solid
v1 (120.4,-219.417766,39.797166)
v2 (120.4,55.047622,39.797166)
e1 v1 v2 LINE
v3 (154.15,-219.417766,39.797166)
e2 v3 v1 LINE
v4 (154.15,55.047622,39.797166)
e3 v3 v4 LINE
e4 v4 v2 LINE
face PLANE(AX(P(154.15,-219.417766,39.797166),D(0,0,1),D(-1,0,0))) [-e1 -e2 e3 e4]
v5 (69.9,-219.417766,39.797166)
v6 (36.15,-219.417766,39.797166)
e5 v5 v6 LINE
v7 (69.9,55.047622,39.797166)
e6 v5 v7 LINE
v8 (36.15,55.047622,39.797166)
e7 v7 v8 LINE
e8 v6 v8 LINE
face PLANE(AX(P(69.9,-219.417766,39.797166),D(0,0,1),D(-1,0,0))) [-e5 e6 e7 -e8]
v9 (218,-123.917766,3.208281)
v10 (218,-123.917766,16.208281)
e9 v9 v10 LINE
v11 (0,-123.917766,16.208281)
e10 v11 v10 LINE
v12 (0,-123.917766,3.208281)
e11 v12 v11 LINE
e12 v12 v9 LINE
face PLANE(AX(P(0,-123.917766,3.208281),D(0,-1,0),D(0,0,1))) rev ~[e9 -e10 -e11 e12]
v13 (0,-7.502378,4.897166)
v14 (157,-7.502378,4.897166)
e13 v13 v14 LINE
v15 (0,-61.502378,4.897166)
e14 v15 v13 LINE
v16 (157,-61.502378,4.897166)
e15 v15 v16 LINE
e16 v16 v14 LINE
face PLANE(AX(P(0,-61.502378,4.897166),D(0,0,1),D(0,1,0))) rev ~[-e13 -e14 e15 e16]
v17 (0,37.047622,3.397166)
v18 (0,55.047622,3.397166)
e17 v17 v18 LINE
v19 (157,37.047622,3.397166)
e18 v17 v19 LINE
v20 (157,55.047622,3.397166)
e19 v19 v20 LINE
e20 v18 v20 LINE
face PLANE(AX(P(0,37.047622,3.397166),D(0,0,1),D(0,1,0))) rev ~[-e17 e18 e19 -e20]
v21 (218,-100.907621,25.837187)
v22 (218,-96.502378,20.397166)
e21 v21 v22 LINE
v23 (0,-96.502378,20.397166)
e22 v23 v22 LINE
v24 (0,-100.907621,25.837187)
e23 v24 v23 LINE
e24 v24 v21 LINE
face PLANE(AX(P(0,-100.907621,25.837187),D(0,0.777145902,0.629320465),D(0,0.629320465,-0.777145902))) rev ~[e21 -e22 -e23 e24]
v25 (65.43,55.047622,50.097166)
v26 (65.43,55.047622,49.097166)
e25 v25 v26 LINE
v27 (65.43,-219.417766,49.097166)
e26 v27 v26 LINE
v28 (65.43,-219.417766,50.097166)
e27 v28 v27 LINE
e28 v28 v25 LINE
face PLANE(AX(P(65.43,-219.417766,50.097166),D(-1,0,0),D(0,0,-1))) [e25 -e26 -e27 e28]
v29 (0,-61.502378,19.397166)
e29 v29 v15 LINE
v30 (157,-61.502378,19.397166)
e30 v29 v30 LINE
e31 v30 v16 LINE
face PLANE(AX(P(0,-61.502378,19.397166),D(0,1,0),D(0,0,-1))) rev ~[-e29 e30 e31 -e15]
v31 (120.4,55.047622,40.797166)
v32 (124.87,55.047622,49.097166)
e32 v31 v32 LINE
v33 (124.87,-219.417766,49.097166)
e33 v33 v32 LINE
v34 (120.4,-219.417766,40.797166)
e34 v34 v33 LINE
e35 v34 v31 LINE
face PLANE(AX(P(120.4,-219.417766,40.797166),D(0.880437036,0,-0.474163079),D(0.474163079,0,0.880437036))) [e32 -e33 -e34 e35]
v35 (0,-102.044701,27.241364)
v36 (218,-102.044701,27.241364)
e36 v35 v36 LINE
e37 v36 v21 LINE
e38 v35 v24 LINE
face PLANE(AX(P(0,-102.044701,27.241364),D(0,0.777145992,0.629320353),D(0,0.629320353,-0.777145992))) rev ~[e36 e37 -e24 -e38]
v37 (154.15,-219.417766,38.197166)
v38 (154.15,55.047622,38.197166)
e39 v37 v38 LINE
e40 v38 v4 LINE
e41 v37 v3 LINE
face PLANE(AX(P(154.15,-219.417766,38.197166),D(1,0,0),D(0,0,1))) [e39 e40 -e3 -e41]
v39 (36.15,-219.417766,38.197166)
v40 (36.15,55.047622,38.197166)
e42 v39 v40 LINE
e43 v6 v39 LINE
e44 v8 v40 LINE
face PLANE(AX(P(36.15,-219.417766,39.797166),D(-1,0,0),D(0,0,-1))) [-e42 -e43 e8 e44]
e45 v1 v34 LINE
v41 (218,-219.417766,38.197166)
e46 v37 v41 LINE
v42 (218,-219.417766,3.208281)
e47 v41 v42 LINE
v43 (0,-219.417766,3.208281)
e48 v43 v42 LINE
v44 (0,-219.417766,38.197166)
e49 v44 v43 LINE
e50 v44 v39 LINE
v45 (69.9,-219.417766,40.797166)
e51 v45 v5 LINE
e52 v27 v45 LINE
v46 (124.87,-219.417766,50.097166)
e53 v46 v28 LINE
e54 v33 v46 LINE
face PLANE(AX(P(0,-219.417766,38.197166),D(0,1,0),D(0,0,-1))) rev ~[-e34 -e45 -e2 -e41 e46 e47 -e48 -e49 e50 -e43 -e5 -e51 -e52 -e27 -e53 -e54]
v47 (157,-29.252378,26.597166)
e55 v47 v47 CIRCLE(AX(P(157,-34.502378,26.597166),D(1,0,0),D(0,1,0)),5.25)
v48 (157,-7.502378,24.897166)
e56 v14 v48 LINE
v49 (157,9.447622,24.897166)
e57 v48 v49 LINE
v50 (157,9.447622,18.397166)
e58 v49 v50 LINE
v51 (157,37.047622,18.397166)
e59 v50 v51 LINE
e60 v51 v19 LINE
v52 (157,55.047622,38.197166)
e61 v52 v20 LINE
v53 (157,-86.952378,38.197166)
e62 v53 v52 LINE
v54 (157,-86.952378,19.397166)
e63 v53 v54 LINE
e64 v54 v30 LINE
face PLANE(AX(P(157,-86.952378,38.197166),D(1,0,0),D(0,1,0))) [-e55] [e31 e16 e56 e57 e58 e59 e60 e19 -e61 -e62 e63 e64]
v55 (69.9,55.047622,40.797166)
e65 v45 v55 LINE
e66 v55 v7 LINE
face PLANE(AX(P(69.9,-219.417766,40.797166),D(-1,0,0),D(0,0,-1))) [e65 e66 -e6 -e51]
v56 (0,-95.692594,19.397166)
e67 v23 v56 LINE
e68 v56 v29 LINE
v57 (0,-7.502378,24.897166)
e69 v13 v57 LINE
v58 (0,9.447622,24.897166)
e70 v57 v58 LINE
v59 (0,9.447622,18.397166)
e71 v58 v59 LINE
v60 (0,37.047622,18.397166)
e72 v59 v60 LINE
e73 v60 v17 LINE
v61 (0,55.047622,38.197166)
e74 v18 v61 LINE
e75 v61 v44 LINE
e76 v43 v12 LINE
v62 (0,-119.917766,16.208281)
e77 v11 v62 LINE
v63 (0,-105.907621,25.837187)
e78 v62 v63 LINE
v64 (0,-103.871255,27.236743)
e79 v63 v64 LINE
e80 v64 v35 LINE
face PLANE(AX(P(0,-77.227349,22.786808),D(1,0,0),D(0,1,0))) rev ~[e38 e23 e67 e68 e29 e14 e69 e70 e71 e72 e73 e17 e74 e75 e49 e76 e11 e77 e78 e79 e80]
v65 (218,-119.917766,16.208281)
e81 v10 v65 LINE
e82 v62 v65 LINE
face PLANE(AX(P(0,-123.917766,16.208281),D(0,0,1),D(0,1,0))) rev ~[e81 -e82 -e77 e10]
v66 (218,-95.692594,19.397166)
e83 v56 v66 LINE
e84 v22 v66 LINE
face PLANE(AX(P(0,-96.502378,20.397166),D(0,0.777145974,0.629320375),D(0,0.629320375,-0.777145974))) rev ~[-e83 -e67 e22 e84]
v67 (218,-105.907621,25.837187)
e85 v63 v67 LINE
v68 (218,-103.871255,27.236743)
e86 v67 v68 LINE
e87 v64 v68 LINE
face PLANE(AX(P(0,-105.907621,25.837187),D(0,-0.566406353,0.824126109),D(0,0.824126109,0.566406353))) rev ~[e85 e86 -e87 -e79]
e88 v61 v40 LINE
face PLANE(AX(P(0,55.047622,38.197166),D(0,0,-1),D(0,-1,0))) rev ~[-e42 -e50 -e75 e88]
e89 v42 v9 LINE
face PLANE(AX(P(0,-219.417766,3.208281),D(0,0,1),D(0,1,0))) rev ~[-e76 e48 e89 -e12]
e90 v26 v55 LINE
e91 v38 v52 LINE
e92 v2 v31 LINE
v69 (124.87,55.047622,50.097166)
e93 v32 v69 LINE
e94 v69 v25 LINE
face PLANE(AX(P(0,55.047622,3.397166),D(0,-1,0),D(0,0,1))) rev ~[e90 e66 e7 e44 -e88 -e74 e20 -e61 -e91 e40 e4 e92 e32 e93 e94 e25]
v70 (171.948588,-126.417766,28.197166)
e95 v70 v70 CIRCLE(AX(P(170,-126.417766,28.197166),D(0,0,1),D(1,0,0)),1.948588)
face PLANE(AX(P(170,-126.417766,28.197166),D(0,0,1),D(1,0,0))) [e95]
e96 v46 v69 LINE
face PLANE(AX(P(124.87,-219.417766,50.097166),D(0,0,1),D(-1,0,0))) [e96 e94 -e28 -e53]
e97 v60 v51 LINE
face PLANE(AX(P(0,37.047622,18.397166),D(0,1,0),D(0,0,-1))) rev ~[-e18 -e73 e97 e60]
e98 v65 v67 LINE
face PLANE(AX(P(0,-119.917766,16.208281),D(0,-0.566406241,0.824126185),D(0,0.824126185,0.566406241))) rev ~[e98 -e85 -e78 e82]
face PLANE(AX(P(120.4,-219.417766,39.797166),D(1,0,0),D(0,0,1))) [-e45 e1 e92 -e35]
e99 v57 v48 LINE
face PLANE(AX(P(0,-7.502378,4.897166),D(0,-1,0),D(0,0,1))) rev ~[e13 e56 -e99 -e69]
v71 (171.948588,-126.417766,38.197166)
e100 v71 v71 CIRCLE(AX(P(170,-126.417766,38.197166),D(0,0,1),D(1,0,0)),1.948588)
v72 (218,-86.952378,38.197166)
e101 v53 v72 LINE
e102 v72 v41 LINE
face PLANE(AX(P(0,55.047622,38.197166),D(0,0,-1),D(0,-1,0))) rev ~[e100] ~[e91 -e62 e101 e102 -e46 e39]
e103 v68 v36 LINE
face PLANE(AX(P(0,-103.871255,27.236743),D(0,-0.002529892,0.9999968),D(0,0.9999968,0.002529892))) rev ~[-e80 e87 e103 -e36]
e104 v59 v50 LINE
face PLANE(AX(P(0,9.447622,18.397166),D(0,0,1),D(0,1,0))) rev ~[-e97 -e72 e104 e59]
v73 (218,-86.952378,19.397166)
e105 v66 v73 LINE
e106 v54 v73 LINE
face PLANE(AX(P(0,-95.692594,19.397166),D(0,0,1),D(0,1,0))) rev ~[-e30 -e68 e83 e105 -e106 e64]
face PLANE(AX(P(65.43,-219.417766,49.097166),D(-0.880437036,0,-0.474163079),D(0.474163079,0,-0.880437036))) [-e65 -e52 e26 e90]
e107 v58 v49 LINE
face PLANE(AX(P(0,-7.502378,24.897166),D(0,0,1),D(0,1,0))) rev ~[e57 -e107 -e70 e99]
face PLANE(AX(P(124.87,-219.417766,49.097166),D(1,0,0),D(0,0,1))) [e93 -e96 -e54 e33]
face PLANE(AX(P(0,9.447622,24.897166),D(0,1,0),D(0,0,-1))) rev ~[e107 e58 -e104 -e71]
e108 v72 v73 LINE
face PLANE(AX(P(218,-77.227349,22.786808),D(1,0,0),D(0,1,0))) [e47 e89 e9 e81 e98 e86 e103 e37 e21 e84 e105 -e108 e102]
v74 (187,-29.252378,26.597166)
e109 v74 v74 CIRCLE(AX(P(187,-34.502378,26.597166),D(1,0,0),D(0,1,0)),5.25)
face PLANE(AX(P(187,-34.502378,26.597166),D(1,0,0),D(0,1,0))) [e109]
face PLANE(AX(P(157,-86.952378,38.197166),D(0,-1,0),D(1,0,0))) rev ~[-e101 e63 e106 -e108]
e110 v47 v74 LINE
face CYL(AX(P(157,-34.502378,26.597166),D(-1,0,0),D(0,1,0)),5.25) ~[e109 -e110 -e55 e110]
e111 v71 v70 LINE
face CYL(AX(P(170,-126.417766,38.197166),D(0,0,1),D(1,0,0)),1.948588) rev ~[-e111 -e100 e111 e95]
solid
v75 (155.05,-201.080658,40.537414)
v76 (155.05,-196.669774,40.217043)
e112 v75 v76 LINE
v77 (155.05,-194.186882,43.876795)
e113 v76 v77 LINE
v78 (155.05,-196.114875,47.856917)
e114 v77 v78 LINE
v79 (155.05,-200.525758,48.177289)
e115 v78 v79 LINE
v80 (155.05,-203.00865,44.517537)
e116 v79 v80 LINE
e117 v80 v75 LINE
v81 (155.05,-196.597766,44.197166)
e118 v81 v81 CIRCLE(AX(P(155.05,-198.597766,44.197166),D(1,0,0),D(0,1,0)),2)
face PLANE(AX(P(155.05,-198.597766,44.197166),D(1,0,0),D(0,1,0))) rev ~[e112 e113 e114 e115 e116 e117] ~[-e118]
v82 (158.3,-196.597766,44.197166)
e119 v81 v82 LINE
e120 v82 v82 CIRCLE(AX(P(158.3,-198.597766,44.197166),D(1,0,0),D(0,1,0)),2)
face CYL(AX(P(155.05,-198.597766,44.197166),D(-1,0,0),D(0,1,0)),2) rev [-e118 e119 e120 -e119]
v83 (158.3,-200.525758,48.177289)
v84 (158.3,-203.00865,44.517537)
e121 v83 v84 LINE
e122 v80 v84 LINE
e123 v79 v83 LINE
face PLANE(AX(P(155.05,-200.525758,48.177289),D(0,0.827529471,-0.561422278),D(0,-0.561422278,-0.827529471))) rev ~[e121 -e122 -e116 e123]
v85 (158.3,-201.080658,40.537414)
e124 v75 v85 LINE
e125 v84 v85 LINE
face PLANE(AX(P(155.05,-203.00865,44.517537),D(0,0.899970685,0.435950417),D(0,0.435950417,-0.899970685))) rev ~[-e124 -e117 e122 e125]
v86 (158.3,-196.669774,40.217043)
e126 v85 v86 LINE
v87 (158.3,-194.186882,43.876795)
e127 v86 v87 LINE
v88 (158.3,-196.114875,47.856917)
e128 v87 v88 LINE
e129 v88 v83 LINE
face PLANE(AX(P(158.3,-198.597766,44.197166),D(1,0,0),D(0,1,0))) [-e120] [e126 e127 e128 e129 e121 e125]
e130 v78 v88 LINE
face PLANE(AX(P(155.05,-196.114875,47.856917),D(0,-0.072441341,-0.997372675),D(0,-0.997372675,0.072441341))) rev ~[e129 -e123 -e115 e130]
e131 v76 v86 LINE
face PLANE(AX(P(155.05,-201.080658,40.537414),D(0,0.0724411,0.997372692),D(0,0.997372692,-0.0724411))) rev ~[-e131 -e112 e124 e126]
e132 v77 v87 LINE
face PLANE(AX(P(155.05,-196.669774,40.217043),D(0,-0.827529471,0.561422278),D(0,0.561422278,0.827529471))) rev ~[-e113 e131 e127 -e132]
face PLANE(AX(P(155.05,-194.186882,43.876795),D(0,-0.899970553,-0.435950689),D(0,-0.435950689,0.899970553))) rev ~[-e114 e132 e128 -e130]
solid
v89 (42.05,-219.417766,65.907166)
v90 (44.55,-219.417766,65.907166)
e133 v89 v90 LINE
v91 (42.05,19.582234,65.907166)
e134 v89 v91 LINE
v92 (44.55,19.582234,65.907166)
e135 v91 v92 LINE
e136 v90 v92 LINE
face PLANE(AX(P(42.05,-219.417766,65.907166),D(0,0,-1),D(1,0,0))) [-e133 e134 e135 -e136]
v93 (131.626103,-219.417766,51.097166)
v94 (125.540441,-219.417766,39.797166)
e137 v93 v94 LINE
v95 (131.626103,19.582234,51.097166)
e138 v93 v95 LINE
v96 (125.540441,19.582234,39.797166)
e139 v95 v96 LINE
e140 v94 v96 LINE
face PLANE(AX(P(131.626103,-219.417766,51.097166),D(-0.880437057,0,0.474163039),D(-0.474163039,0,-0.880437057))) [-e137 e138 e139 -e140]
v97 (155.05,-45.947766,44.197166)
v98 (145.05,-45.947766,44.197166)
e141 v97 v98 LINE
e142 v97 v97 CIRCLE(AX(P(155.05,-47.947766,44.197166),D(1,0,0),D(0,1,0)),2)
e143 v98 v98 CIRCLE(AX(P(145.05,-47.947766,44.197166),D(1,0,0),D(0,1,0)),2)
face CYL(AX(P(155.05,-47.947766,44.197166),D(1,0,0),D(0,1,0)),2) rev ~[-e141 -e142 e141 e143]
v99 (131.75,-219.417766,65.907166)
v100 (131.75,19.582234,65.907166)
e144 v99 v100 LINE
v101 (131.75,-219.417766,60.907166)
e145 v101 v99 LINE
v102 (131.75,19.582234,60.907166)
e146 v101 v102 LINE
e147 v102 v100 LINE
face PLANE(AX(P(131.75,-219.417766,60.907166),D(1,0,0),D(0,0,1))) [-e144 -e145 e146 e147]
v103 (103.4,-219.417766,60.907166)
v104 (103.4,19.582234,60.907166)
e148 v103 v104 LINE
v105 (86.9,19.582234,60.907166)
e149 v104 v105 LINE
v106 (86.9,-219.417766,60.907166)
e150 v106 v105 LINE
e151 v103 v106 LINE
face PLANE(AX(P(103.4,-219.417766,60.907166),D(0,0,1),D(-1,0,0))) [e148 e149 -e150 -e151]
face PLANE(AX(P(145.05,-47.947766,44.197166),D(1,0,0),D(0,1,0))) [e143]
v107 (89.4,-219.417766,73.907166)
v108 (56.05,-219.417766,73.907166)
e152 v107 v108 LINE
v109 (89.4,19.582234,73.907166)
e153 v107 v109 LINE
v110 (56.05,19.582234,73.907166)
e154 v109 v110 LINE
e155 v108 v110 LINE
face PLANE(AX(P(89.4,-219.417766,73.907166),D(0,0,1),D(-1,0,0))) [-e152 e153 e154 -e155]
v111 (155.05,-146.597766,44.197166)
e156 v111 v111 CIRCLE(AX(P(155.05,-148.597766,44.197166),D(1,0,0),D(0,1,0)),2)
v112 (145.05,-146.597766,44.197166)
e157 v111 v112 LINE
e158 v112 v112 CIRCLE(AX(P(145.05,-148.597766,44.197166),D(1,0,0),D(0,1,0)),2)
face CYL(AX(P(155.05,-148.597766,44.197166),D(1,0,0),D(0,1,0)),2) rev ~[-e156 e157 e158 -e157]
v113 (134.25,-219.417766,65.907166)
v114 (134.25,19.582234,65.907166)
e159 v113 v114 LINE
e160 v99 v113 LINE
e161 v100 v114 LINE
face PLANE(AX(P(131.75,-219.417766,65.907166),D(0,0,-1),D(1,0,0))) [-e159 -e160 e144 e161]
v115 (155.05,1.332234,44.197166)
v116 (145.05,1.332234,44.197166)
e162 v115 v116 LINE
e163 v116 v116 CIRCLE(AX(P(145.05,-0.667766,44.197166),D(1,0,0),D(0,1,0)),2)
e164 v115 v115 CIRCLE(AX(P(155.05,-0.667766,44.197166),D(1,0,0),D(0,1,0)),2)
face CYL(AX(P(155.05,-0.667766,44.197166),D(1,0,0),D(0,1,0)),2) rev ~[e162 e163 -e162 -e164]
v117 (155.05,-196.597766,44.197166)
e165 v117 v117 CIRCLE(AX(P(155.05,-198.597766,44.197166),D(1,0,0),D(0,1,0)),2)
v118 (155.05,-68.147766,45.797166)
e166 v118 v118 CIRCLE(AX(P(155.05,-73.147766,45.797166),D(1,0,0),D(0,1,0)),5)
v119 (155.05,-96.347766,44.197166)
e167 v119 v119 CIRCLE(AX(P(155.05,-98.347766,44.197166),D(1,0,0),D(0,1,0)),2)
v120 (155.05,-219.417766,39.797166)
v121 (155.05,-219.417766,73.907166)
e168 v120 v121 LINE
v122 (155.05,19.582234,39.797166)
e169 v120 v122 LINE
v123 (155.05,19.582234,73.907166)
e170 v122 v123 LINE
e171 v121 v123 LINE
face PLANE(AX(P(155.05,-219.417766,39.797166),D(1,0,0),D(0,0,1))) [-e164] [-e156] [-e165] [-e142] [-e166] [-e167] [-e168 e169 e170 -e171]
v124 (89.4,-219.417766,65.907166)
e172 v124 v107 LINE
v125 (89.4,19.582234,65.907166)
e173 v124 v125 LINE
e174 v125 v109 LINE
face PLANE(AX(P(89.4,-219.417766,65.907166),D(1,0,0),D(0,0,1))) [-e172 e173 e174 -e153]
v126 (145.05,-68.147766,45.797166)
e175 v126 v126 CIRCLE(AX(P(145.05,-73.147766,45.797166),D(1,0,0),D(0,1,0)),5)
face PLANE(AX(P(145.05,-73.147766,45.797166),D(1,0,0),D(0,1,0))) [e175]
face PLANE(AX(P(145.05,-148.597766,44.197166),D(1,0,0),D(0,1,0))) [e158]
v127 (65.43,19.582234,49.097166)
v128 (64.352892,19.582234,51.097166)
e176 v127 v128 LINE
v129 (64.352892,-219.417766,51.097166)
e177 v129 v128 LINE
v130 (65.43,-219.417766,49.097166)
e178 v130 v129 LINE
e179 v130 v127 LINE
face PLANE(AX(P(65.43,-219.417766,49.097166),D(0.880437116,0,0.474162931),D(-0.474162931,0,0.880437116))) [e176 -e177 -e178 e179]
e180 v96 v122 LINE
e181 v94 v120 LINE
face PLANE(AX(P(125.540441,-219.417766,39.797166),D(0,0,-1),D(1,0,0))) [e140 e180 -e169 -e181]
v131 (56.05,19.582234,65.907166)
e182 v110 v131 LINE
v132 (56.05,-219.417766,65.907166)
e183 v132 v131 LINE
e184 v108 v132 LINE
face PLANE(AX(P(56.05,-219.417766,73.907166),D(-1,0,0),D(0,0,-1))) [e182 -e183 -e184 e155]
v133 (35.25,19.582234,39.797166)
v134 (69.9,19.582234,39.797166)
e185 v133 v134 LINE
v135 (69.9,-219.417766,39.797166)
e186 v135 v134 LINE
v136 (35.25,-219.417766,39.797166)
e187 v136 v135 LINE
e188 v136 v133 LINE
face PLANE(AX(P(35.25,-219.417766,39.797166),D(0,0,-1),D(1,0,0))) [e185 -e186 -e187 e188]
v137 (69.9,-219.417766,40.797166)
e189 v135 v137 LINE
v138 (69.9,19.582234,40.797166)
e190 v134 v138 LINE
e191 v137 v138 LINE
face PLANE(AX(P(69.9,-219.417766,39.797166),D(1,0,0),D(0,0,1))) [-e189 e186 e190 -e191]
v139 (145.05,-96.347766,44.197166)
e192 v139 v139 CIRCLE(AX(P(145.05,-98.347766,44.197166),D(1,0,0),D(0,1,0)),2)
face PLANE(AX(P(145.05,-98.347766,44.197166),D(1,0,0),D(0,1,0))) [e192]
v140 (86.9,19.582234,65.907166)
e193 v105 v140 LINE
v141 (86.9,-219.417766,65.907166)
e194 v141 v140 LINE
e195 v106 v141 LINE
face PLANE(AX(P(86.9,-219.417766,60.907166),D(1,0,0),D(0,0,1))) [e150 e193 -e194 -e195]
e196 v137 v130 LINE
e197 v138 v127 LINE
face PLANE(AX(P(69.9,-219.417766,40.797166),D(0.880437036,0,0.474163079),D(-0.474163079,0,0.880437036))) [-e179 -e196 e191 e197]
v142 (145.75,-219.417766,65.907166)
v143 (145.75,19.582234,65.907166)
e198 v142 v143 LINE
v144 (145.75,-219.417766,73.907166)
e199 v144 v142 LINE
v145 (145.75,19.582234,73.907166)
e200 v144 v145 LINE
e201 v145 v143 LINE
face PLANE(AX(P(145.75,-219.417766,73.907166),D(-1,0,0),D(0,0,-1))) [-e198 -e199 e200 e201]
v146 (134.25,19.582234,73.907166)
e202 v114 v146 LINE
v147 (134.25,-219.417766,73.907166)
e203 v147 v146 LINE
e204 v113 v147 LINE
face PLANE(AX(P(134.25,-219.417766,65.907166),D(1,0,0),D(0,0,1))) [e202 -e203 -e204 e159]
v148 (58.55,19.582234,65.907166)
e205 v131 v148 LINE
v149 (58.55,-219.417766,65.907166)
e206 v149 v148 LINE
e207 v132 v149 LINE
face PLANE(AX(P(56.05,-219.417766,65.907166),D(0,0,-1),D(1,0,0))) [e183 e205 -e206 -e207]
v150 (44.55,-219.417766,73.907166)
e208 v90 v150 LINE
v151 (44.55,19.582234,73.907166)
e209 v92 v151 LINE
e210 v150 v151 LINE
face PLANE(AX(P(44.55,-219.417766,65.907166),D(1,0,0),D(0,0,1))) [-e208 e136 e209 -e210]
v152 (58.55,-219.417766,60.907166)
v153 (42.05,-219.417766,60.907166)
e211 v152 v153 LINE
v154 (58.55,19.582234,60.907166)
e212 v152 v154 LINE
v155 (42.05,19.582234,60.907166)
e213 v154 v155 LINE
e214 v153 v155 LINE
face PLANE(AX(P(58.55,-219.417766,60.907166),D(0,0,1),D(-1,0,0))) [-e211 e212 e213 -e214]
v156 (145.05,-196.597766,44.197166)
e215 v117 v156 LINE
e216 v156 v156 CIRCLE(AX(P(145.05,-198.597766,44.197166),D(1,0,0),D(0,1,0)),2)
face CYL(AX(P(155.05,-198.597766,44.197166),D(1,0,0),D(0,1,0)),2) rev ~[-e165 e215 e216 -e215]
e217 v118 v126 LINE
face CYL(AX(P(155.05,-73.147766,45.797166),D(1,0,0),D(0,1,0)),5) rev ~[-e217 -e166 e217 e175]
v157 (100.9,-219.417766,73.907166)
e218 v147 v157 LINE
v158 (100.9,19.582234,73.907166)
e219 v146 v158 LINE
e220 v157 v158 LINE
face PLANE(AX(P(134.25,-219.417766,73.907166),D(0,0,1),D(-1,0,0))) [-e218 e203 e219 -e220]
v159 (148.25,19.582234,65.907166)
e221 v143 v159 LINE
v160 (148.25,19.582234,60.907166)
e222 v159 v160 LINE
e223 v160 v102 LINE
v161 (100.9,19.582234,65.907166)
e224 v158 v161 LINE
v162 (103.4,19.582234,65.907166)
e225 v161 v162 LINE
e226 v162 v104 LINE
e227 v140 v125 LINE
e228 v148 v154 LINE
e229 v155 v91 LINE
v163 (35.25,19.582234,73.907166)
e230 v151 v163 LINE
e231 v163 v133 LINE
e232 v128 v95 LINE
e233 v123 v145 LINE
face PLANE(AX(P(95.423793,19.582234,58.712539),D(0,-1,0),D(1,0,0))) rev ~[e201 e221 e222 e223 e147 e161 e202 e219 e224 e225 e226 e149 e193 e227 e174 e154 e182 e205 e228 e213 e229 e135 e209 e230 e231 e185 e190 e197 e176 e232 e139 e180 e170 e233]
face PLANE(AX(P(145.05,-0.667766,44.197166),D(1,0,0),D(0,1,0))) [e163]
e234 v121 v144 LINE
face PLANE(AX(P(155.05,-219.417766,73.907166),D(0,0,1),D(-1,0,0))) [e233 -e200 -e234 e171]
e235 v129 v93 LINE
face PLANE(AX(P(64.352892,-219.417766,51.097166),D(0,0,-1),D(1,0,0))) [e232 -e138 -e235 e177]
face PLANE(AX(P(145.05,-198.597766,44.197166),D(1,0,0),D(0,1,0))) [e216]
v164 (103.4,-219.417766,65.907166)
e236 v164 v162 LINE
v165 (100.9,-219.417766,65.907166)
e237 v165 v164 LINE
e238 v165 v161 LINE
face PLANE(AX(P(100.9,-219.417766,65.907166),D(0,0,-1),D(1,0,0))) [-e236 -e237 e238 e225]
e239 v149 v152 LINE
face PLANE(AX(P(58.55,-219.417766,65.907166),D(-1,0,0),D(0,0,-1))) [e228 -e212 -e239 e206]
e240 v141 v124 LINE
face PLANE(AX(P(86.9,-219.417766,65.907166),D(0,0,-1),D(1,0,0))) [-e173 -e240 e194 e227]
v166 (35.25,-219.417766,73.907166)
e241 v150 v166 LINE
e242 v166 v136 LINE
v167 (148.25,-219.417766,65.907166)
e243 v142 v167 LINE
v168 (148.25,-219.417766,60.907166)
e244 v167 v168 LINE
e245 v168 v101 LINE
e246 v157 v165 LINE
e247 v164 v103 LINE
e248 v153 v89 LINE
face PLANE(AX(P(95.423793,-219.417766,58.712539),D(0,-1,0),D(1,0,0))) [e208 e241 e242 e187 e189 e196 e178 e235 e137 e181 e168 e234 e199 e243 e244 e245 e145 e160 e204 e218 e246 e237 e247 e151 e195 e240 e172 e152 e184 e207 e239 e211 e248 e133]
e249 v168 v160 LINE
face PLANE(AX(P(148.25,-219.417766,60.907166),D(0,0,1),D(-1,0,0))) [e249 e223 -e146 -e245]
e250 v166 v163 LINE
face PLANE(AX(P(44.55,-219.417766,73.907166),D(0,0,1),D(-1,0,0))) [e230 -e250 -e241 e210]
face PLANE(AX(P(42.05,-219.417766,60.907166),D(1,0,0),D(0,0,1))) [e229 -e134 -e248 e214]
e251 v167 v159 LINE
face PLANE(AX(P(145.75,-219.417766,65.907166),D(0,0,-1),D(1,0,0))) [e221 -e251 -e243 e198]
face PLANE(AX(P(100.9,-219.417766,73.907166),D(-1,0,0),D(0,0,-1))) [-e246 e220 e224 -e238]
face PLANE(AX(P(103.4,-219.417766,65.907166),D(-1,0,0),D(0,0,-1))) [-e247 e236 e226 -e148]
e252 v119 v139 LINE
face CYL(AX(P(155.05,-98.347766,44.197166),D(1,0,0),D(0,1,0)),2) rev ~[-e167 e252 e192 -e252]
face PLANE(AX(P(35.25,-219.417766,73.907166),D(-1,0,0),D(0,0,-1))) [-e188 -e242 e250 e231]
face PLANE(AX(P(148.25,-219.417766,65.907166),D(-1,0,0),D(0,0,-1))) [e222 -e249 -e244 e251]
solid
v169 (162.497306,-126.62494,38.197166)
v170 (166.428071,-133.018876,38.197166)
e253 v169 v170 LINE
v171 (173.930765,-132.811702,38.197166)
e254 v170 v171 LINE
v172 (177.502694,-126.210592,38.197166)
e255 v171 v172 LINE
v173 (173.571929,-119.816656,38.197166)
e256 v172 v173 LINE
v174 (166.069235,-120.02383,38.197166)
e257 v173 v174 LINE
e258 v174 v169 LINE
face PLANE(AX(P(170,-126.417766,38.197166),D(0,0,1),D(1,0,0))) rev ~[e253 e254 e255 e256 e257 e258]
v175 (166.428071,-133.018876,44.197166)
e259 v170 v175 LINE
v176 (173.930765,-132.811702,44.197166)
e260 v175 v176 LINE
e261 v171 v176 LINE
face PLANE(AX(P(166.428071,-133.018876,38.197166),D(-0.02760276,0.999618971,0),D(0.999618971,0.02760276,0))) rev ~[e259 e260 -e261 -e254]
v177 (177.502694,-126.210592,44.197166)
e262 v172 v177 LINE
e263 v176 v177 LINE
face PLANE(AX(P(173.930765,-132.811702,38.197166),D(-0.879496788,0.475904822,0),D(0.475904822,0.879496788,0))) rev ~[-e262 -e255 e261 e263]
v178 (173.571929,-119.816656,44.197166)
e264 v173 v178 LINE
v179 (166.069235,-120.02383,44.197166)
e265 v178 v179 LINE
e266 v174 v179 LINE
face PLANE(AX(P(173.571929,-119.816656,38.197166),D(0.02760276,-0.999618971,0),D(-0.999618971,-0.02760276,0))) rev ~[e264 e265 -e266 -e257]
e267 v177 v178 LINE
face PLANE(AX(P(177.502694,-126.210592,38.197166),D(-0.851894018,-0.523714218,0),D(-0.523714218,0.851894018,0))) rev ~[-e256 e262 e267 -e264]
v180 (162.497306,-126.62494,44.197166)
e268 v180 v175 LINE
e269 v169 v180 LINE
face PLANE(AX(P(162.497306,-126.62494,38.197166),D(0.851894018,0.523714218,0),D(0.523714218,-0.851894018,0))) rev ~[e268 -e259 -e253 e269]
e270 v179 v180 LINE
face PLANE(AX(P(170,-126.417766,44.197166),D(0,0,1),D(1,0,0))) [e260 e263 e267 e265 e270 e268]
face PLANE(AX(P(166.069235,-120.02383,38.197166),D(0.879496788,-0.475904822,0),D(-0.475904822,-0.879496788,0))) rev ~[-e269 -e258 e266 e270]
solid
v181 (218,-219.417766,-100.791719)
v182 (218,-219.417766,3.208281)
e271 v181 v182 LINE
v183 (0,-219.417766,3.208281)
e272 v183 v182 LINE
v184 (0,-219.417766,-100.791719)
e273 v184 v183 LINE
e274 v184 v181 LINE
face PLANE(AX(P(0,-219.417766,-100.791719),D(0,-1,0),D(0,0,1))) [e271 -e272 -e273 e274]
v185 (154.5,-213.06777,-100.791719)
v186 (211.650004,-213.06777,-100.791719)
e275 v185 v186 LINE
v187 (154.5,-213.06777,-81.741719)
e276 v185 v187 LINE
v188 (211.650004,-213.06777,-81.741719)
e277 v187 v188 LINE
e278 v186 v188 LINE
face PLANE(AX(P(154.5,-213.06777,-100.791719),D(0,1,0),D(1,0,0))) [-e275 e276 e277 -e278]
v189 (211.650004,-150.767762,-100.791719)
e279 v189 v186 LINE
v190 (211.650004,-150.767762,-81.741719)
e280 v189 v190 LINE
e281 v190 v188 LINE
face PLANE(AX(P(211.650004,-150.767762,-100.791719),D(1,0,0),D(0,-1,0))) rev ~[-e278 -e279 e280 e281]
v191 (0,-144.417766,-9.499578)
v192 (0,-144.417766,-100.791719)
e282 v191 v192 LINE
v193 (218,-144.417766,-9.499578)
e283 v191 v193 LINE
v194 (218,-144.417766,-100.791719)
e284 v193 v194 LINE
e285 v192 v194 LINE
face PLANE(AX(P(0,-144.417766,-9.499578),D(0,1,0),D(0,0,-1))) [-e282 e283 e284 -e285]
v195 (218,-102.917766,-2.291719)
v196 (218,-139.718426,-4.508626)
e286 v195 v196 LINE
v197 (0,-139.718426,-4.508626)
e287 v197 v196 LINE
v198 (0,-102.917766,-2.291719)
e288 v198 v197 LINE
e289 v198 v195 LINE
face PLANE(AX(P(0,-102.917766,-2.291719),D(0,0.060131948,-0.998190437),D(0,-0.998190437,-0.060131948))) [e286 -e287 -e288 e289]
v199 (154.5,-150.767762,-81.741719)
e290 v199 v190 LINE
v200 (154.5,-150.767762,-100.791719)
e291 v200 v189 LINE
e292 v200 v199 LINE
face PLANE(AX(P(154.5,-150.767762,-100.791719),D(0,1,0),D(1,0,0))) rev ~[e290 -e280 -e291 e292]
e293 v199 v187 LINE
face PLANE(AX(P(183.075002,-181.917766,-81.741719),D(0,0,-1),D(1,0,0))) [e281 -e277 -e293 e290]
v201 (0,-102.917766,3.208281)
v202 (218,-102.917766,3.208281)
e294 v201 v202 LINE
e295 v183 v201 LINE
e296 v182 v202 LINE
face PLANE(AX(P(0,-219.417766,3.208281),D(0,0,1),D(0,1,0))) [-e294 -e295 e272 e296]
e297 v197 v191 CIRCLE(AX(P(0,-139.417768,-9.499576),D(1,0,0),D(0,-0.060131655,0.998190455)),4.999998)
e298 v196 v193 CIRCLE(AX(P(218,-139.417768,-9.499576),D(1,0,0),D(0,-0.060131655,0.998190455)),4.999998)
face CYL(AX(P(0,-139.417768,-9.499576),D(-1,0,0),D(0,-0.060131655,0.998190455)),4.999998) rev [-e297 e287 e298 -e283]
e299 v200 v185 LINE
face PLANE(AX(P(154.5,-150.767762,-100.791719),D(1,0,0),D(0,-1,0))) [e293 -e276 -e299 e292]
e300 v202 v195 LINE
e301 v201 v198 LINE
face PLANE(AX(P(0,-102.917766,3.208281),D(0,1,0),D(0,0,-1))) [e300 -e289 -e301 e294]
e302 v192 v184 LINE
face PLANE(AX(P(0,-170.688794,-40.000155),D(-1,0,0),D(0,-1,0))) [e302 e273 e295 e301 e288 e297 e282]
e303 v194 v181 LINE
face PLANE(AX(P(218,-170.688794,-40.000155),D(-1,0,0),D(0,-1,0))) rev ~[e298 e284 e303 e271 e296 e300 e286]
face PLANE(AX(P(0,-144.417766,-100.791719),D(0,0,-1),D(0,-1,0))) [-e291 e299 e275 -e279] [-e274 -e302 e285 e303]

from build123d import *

# Parameters (mm, degrees)
F1_DEPTH  = 218
F3_DEPTH  = 274.465388
F4_W      = 61
F4_H      = 142
F5_DEPTH  = 34.8
F7_DEPTH  = 239
F8_R      = 5.25
F9_DEPTH  = 30
F10_R     = 2
F10_R_2   = 5
F11_DEPTH = 10
F12_DEPTH = 3.25
F13_R     = 1.948588
F14_DEPTH = 6
F15_DEPTH = 10
F17_DEPTH = 218
F18_W     = 57.150004
F18_H     = 62.300008
F19_DEPTH = 19.05


with BuildPart() as f1:
    # F0 (on Right) → F1 (new body)
    with BuildSketch(Plane.YZ):
        Polygon((34.047622, 18.397166), (37.047622, 18.397166), (37.047622, 3.397166), (55.047622, 3.397166), (55.047622, 38.197166), (-219.417766, 38.197166), (-219.417766, 16.208281), (-219.417766, 3.208281), (-123.917766, 3.208281), (-123.917766, 16.208281), (-119.917766, 16.208281), (-105.907621, 25.837187), (-103.871255, 27.236743), (-102.044701, 27.241364), (-100.907621, 25.837187), (-96.502378, 20.397166), (-95.692594, 19.397166), (-61.502378, 19.397166), (-61.502378, 4.897166), (-7.502378, 4.897166), (-7.502378, 19.052115), (-7.502378, 24.897166), (9.447622, 24.897166), (9.447622, 18.397166), (11.297622, 18.397166), align=None)
    extrude(amount=F1_DEPTH)

    # F2 (on face) → F3 (join, through all)
    with BuildSketch(Plane.XZ.offset(219.417766)):
        Polygon((69.9, 39.797166), (36.15, 39.797166), (36.15, 38.197166), (154.15, 38.197166), (154.15, 39.797166), (120.4, 39.797166), align=None)
        Polygon((69.9, 40.797166), (69.9, 39.797166), (120.4, 39.797166), (120.4, 40.797166), (124.87, 49.097166), (124.87, 50.097166), (95.15, 50.097166), (65.43, 50.097166), (65.43, 49.097166), align=None)
    extrude(amount=-F3_DEPTH)

    # F4 (on face) → F5 (cut, through all)
    with BuildSketch(Plane.XY.offset(38.197166)):
        with Locations((187.5, -15.952378)):
            Rectangle(F4_W, F4_H)
    extrude(amount=-F5_DEPTH, mode=Mode.SUBTRACT)

    # F8 (on face) → F9 (join)
    with BuildSketch(Plane.YZ.offset(157)):
        with Locations((-34.502378, 26.597166)):
            Circle(F8_R)
    extrude(amount=F9_DEPTH)

    # F13 (on face) → F15 (cut)
    with BuildSketch(Plane.XY.offset(38.197166)):
        with Locations((170, -126.417766)):
            Circle(F13_R)
    extrude(amount=-F15_DEPTH, mode=Mode.SUBTRACT)


with BuildPart() as f7:
    # F6 (on face) → F7 (new body)
    with BuildSketch(Plane.XZ.offset(219.417766)):
        Polygon((35.25, 73.907166), (35.25, 39.797166), (36.15, 39.797166), (69.9, 39.797166), (69.9, 40.797166), (65.43, 49.097166), (64.352892, 51.097166), (131.626103, 51.097166), (125.540441, 39.797166), (154.15, 39.797166), (155.05, 39.797166), (155.05, 73.907166), (145.75, 73.907166), (145.75, 65.907166), (148.25, 65.907166), (148.25, 60.907166), (131.75, 60.907166), (131.75, 65.907166), (134.25, 65.907166), (134.25, 73.907166), (100.9, 73.907166), (100.9, 65.907166), (103.4, 65.907166), (103.4, 60.907166), (86.9, 60.907166), (86.9, 65.907166), (89.4, 65.907166), (89.4, 73.907166), (56.05, 73.907166), (56.05, 65.907166), (58.55, 65.907166), (58.55, 60.907166), (42.05, 60.907166), (42.05, 65.907166), (44.55, 65.907166), (44.55, 73.907166), align=None)
    extrude(amount=-F7_DEPTH)

    # F10 (on face) → F11 (cut)
    with BuildSketch(Plane.YZ.offset(155.05)):
        with Locations((-198.597766, 44.197166)):
            Circle(F10_R)
        with Locations((-148.597766, 44.197166)):
            Circle(F10_R)
        with Locations((-98.347766, 44.197166)):
            Circle(F10_R)
        with Locations((-47.947766, 44.197166)):
            Circle(F10_R)
        with Locations((-0.667766, 44.197166)):
            Circle(F10_R)
        with Locations((-73.147766, 45.797166)):
            Circle(F10_R_2)
    extrude(amount=-F11_DEPTH, mode=Mode.SUBTRACT)


with BuildPart() as f12:
    # F10 (on face) → F12 (new body)
    with BuildSketch(Plane.YZ.offset(155.05)):
        Polygon((-194.186882, 43.876795), (-196.114875, 47.856917), (-200.525758, 48.177289), (-203.00865, 44.517537), (-201.080658, 40.537414), (-196.669774, 40.217043), align=None)
        with Locations((-198.597766, 44.197166)):
            Circle(F10_R, mode=Mode.SUBTRACT)
    extrude(amount=F12_DEPTH)


with BuildPart() as f14:
    # F13 (on face) → F14 (new body)
    with BuildSketch(Plane.XY.offset(38.197166)):
        Polygon((177.502694, -126.210592), (173.571929, -119.816656), (166.069235, -120.02383), (162.497306, -126.62494), (166.428071, -133.018876), (173.930765, -132.811702), align=None)
        with Locations((170, -126.417766)):
            Circle(F13_R, mode=Mode.SUBTRACT)
        with Locations((170, -126.417766)):
            Circle(F13_R)
    extrude(amount=F14_DEPTH)


with BuildPart() as f17:
    # F16 (on face) → F17 (new body, through all)
    with BuildSketch(Plane(origin=(0, 0, 0), x_dir=(0, -1, 0), z_dir=(-1, 0, 0))):
        with BuildLine():
            Line((219.417766, -100.791719), (219.417766, 3.208281))
            Line((219.417766, 3.208281), (123.917766, 3.208281))
            Line((123.917766, 3.208281), (102.917766, 3.208281))
            Line((102.917766, 3.208281), (102.917766, -2.291719))
            Line((102.917766, -2.291719), (139.718426, -4.508626))
            ThreePointArc((139.718426, -4.508626), (143.058048, -6.071991), (144.417766, -9.499578))
            Line((144.417766, -9.499578), (144.417766, -100.791719))
            Line((144.417766, -100.791719), (219.417766, -100.791719))
        make_face()
    extrude(amount=-F17_DEPTH)

    # F18 (on face) → F19 (cut)
    with BuildSketch(Plane(origin=(0, 0, -100.791719), x_dir=(1, 0, 0), z_dir=(0, 0, -1))):
        with Locations((183.075002, 181.917766)):
            Rectangle(F18_W, F18_H)
    extrude(amount=-F19_DEPTH, mode=Mode.SUBTRACT)


solid = Compound([f1.part, f7.part, f12.part, f14.part, f17.part])
